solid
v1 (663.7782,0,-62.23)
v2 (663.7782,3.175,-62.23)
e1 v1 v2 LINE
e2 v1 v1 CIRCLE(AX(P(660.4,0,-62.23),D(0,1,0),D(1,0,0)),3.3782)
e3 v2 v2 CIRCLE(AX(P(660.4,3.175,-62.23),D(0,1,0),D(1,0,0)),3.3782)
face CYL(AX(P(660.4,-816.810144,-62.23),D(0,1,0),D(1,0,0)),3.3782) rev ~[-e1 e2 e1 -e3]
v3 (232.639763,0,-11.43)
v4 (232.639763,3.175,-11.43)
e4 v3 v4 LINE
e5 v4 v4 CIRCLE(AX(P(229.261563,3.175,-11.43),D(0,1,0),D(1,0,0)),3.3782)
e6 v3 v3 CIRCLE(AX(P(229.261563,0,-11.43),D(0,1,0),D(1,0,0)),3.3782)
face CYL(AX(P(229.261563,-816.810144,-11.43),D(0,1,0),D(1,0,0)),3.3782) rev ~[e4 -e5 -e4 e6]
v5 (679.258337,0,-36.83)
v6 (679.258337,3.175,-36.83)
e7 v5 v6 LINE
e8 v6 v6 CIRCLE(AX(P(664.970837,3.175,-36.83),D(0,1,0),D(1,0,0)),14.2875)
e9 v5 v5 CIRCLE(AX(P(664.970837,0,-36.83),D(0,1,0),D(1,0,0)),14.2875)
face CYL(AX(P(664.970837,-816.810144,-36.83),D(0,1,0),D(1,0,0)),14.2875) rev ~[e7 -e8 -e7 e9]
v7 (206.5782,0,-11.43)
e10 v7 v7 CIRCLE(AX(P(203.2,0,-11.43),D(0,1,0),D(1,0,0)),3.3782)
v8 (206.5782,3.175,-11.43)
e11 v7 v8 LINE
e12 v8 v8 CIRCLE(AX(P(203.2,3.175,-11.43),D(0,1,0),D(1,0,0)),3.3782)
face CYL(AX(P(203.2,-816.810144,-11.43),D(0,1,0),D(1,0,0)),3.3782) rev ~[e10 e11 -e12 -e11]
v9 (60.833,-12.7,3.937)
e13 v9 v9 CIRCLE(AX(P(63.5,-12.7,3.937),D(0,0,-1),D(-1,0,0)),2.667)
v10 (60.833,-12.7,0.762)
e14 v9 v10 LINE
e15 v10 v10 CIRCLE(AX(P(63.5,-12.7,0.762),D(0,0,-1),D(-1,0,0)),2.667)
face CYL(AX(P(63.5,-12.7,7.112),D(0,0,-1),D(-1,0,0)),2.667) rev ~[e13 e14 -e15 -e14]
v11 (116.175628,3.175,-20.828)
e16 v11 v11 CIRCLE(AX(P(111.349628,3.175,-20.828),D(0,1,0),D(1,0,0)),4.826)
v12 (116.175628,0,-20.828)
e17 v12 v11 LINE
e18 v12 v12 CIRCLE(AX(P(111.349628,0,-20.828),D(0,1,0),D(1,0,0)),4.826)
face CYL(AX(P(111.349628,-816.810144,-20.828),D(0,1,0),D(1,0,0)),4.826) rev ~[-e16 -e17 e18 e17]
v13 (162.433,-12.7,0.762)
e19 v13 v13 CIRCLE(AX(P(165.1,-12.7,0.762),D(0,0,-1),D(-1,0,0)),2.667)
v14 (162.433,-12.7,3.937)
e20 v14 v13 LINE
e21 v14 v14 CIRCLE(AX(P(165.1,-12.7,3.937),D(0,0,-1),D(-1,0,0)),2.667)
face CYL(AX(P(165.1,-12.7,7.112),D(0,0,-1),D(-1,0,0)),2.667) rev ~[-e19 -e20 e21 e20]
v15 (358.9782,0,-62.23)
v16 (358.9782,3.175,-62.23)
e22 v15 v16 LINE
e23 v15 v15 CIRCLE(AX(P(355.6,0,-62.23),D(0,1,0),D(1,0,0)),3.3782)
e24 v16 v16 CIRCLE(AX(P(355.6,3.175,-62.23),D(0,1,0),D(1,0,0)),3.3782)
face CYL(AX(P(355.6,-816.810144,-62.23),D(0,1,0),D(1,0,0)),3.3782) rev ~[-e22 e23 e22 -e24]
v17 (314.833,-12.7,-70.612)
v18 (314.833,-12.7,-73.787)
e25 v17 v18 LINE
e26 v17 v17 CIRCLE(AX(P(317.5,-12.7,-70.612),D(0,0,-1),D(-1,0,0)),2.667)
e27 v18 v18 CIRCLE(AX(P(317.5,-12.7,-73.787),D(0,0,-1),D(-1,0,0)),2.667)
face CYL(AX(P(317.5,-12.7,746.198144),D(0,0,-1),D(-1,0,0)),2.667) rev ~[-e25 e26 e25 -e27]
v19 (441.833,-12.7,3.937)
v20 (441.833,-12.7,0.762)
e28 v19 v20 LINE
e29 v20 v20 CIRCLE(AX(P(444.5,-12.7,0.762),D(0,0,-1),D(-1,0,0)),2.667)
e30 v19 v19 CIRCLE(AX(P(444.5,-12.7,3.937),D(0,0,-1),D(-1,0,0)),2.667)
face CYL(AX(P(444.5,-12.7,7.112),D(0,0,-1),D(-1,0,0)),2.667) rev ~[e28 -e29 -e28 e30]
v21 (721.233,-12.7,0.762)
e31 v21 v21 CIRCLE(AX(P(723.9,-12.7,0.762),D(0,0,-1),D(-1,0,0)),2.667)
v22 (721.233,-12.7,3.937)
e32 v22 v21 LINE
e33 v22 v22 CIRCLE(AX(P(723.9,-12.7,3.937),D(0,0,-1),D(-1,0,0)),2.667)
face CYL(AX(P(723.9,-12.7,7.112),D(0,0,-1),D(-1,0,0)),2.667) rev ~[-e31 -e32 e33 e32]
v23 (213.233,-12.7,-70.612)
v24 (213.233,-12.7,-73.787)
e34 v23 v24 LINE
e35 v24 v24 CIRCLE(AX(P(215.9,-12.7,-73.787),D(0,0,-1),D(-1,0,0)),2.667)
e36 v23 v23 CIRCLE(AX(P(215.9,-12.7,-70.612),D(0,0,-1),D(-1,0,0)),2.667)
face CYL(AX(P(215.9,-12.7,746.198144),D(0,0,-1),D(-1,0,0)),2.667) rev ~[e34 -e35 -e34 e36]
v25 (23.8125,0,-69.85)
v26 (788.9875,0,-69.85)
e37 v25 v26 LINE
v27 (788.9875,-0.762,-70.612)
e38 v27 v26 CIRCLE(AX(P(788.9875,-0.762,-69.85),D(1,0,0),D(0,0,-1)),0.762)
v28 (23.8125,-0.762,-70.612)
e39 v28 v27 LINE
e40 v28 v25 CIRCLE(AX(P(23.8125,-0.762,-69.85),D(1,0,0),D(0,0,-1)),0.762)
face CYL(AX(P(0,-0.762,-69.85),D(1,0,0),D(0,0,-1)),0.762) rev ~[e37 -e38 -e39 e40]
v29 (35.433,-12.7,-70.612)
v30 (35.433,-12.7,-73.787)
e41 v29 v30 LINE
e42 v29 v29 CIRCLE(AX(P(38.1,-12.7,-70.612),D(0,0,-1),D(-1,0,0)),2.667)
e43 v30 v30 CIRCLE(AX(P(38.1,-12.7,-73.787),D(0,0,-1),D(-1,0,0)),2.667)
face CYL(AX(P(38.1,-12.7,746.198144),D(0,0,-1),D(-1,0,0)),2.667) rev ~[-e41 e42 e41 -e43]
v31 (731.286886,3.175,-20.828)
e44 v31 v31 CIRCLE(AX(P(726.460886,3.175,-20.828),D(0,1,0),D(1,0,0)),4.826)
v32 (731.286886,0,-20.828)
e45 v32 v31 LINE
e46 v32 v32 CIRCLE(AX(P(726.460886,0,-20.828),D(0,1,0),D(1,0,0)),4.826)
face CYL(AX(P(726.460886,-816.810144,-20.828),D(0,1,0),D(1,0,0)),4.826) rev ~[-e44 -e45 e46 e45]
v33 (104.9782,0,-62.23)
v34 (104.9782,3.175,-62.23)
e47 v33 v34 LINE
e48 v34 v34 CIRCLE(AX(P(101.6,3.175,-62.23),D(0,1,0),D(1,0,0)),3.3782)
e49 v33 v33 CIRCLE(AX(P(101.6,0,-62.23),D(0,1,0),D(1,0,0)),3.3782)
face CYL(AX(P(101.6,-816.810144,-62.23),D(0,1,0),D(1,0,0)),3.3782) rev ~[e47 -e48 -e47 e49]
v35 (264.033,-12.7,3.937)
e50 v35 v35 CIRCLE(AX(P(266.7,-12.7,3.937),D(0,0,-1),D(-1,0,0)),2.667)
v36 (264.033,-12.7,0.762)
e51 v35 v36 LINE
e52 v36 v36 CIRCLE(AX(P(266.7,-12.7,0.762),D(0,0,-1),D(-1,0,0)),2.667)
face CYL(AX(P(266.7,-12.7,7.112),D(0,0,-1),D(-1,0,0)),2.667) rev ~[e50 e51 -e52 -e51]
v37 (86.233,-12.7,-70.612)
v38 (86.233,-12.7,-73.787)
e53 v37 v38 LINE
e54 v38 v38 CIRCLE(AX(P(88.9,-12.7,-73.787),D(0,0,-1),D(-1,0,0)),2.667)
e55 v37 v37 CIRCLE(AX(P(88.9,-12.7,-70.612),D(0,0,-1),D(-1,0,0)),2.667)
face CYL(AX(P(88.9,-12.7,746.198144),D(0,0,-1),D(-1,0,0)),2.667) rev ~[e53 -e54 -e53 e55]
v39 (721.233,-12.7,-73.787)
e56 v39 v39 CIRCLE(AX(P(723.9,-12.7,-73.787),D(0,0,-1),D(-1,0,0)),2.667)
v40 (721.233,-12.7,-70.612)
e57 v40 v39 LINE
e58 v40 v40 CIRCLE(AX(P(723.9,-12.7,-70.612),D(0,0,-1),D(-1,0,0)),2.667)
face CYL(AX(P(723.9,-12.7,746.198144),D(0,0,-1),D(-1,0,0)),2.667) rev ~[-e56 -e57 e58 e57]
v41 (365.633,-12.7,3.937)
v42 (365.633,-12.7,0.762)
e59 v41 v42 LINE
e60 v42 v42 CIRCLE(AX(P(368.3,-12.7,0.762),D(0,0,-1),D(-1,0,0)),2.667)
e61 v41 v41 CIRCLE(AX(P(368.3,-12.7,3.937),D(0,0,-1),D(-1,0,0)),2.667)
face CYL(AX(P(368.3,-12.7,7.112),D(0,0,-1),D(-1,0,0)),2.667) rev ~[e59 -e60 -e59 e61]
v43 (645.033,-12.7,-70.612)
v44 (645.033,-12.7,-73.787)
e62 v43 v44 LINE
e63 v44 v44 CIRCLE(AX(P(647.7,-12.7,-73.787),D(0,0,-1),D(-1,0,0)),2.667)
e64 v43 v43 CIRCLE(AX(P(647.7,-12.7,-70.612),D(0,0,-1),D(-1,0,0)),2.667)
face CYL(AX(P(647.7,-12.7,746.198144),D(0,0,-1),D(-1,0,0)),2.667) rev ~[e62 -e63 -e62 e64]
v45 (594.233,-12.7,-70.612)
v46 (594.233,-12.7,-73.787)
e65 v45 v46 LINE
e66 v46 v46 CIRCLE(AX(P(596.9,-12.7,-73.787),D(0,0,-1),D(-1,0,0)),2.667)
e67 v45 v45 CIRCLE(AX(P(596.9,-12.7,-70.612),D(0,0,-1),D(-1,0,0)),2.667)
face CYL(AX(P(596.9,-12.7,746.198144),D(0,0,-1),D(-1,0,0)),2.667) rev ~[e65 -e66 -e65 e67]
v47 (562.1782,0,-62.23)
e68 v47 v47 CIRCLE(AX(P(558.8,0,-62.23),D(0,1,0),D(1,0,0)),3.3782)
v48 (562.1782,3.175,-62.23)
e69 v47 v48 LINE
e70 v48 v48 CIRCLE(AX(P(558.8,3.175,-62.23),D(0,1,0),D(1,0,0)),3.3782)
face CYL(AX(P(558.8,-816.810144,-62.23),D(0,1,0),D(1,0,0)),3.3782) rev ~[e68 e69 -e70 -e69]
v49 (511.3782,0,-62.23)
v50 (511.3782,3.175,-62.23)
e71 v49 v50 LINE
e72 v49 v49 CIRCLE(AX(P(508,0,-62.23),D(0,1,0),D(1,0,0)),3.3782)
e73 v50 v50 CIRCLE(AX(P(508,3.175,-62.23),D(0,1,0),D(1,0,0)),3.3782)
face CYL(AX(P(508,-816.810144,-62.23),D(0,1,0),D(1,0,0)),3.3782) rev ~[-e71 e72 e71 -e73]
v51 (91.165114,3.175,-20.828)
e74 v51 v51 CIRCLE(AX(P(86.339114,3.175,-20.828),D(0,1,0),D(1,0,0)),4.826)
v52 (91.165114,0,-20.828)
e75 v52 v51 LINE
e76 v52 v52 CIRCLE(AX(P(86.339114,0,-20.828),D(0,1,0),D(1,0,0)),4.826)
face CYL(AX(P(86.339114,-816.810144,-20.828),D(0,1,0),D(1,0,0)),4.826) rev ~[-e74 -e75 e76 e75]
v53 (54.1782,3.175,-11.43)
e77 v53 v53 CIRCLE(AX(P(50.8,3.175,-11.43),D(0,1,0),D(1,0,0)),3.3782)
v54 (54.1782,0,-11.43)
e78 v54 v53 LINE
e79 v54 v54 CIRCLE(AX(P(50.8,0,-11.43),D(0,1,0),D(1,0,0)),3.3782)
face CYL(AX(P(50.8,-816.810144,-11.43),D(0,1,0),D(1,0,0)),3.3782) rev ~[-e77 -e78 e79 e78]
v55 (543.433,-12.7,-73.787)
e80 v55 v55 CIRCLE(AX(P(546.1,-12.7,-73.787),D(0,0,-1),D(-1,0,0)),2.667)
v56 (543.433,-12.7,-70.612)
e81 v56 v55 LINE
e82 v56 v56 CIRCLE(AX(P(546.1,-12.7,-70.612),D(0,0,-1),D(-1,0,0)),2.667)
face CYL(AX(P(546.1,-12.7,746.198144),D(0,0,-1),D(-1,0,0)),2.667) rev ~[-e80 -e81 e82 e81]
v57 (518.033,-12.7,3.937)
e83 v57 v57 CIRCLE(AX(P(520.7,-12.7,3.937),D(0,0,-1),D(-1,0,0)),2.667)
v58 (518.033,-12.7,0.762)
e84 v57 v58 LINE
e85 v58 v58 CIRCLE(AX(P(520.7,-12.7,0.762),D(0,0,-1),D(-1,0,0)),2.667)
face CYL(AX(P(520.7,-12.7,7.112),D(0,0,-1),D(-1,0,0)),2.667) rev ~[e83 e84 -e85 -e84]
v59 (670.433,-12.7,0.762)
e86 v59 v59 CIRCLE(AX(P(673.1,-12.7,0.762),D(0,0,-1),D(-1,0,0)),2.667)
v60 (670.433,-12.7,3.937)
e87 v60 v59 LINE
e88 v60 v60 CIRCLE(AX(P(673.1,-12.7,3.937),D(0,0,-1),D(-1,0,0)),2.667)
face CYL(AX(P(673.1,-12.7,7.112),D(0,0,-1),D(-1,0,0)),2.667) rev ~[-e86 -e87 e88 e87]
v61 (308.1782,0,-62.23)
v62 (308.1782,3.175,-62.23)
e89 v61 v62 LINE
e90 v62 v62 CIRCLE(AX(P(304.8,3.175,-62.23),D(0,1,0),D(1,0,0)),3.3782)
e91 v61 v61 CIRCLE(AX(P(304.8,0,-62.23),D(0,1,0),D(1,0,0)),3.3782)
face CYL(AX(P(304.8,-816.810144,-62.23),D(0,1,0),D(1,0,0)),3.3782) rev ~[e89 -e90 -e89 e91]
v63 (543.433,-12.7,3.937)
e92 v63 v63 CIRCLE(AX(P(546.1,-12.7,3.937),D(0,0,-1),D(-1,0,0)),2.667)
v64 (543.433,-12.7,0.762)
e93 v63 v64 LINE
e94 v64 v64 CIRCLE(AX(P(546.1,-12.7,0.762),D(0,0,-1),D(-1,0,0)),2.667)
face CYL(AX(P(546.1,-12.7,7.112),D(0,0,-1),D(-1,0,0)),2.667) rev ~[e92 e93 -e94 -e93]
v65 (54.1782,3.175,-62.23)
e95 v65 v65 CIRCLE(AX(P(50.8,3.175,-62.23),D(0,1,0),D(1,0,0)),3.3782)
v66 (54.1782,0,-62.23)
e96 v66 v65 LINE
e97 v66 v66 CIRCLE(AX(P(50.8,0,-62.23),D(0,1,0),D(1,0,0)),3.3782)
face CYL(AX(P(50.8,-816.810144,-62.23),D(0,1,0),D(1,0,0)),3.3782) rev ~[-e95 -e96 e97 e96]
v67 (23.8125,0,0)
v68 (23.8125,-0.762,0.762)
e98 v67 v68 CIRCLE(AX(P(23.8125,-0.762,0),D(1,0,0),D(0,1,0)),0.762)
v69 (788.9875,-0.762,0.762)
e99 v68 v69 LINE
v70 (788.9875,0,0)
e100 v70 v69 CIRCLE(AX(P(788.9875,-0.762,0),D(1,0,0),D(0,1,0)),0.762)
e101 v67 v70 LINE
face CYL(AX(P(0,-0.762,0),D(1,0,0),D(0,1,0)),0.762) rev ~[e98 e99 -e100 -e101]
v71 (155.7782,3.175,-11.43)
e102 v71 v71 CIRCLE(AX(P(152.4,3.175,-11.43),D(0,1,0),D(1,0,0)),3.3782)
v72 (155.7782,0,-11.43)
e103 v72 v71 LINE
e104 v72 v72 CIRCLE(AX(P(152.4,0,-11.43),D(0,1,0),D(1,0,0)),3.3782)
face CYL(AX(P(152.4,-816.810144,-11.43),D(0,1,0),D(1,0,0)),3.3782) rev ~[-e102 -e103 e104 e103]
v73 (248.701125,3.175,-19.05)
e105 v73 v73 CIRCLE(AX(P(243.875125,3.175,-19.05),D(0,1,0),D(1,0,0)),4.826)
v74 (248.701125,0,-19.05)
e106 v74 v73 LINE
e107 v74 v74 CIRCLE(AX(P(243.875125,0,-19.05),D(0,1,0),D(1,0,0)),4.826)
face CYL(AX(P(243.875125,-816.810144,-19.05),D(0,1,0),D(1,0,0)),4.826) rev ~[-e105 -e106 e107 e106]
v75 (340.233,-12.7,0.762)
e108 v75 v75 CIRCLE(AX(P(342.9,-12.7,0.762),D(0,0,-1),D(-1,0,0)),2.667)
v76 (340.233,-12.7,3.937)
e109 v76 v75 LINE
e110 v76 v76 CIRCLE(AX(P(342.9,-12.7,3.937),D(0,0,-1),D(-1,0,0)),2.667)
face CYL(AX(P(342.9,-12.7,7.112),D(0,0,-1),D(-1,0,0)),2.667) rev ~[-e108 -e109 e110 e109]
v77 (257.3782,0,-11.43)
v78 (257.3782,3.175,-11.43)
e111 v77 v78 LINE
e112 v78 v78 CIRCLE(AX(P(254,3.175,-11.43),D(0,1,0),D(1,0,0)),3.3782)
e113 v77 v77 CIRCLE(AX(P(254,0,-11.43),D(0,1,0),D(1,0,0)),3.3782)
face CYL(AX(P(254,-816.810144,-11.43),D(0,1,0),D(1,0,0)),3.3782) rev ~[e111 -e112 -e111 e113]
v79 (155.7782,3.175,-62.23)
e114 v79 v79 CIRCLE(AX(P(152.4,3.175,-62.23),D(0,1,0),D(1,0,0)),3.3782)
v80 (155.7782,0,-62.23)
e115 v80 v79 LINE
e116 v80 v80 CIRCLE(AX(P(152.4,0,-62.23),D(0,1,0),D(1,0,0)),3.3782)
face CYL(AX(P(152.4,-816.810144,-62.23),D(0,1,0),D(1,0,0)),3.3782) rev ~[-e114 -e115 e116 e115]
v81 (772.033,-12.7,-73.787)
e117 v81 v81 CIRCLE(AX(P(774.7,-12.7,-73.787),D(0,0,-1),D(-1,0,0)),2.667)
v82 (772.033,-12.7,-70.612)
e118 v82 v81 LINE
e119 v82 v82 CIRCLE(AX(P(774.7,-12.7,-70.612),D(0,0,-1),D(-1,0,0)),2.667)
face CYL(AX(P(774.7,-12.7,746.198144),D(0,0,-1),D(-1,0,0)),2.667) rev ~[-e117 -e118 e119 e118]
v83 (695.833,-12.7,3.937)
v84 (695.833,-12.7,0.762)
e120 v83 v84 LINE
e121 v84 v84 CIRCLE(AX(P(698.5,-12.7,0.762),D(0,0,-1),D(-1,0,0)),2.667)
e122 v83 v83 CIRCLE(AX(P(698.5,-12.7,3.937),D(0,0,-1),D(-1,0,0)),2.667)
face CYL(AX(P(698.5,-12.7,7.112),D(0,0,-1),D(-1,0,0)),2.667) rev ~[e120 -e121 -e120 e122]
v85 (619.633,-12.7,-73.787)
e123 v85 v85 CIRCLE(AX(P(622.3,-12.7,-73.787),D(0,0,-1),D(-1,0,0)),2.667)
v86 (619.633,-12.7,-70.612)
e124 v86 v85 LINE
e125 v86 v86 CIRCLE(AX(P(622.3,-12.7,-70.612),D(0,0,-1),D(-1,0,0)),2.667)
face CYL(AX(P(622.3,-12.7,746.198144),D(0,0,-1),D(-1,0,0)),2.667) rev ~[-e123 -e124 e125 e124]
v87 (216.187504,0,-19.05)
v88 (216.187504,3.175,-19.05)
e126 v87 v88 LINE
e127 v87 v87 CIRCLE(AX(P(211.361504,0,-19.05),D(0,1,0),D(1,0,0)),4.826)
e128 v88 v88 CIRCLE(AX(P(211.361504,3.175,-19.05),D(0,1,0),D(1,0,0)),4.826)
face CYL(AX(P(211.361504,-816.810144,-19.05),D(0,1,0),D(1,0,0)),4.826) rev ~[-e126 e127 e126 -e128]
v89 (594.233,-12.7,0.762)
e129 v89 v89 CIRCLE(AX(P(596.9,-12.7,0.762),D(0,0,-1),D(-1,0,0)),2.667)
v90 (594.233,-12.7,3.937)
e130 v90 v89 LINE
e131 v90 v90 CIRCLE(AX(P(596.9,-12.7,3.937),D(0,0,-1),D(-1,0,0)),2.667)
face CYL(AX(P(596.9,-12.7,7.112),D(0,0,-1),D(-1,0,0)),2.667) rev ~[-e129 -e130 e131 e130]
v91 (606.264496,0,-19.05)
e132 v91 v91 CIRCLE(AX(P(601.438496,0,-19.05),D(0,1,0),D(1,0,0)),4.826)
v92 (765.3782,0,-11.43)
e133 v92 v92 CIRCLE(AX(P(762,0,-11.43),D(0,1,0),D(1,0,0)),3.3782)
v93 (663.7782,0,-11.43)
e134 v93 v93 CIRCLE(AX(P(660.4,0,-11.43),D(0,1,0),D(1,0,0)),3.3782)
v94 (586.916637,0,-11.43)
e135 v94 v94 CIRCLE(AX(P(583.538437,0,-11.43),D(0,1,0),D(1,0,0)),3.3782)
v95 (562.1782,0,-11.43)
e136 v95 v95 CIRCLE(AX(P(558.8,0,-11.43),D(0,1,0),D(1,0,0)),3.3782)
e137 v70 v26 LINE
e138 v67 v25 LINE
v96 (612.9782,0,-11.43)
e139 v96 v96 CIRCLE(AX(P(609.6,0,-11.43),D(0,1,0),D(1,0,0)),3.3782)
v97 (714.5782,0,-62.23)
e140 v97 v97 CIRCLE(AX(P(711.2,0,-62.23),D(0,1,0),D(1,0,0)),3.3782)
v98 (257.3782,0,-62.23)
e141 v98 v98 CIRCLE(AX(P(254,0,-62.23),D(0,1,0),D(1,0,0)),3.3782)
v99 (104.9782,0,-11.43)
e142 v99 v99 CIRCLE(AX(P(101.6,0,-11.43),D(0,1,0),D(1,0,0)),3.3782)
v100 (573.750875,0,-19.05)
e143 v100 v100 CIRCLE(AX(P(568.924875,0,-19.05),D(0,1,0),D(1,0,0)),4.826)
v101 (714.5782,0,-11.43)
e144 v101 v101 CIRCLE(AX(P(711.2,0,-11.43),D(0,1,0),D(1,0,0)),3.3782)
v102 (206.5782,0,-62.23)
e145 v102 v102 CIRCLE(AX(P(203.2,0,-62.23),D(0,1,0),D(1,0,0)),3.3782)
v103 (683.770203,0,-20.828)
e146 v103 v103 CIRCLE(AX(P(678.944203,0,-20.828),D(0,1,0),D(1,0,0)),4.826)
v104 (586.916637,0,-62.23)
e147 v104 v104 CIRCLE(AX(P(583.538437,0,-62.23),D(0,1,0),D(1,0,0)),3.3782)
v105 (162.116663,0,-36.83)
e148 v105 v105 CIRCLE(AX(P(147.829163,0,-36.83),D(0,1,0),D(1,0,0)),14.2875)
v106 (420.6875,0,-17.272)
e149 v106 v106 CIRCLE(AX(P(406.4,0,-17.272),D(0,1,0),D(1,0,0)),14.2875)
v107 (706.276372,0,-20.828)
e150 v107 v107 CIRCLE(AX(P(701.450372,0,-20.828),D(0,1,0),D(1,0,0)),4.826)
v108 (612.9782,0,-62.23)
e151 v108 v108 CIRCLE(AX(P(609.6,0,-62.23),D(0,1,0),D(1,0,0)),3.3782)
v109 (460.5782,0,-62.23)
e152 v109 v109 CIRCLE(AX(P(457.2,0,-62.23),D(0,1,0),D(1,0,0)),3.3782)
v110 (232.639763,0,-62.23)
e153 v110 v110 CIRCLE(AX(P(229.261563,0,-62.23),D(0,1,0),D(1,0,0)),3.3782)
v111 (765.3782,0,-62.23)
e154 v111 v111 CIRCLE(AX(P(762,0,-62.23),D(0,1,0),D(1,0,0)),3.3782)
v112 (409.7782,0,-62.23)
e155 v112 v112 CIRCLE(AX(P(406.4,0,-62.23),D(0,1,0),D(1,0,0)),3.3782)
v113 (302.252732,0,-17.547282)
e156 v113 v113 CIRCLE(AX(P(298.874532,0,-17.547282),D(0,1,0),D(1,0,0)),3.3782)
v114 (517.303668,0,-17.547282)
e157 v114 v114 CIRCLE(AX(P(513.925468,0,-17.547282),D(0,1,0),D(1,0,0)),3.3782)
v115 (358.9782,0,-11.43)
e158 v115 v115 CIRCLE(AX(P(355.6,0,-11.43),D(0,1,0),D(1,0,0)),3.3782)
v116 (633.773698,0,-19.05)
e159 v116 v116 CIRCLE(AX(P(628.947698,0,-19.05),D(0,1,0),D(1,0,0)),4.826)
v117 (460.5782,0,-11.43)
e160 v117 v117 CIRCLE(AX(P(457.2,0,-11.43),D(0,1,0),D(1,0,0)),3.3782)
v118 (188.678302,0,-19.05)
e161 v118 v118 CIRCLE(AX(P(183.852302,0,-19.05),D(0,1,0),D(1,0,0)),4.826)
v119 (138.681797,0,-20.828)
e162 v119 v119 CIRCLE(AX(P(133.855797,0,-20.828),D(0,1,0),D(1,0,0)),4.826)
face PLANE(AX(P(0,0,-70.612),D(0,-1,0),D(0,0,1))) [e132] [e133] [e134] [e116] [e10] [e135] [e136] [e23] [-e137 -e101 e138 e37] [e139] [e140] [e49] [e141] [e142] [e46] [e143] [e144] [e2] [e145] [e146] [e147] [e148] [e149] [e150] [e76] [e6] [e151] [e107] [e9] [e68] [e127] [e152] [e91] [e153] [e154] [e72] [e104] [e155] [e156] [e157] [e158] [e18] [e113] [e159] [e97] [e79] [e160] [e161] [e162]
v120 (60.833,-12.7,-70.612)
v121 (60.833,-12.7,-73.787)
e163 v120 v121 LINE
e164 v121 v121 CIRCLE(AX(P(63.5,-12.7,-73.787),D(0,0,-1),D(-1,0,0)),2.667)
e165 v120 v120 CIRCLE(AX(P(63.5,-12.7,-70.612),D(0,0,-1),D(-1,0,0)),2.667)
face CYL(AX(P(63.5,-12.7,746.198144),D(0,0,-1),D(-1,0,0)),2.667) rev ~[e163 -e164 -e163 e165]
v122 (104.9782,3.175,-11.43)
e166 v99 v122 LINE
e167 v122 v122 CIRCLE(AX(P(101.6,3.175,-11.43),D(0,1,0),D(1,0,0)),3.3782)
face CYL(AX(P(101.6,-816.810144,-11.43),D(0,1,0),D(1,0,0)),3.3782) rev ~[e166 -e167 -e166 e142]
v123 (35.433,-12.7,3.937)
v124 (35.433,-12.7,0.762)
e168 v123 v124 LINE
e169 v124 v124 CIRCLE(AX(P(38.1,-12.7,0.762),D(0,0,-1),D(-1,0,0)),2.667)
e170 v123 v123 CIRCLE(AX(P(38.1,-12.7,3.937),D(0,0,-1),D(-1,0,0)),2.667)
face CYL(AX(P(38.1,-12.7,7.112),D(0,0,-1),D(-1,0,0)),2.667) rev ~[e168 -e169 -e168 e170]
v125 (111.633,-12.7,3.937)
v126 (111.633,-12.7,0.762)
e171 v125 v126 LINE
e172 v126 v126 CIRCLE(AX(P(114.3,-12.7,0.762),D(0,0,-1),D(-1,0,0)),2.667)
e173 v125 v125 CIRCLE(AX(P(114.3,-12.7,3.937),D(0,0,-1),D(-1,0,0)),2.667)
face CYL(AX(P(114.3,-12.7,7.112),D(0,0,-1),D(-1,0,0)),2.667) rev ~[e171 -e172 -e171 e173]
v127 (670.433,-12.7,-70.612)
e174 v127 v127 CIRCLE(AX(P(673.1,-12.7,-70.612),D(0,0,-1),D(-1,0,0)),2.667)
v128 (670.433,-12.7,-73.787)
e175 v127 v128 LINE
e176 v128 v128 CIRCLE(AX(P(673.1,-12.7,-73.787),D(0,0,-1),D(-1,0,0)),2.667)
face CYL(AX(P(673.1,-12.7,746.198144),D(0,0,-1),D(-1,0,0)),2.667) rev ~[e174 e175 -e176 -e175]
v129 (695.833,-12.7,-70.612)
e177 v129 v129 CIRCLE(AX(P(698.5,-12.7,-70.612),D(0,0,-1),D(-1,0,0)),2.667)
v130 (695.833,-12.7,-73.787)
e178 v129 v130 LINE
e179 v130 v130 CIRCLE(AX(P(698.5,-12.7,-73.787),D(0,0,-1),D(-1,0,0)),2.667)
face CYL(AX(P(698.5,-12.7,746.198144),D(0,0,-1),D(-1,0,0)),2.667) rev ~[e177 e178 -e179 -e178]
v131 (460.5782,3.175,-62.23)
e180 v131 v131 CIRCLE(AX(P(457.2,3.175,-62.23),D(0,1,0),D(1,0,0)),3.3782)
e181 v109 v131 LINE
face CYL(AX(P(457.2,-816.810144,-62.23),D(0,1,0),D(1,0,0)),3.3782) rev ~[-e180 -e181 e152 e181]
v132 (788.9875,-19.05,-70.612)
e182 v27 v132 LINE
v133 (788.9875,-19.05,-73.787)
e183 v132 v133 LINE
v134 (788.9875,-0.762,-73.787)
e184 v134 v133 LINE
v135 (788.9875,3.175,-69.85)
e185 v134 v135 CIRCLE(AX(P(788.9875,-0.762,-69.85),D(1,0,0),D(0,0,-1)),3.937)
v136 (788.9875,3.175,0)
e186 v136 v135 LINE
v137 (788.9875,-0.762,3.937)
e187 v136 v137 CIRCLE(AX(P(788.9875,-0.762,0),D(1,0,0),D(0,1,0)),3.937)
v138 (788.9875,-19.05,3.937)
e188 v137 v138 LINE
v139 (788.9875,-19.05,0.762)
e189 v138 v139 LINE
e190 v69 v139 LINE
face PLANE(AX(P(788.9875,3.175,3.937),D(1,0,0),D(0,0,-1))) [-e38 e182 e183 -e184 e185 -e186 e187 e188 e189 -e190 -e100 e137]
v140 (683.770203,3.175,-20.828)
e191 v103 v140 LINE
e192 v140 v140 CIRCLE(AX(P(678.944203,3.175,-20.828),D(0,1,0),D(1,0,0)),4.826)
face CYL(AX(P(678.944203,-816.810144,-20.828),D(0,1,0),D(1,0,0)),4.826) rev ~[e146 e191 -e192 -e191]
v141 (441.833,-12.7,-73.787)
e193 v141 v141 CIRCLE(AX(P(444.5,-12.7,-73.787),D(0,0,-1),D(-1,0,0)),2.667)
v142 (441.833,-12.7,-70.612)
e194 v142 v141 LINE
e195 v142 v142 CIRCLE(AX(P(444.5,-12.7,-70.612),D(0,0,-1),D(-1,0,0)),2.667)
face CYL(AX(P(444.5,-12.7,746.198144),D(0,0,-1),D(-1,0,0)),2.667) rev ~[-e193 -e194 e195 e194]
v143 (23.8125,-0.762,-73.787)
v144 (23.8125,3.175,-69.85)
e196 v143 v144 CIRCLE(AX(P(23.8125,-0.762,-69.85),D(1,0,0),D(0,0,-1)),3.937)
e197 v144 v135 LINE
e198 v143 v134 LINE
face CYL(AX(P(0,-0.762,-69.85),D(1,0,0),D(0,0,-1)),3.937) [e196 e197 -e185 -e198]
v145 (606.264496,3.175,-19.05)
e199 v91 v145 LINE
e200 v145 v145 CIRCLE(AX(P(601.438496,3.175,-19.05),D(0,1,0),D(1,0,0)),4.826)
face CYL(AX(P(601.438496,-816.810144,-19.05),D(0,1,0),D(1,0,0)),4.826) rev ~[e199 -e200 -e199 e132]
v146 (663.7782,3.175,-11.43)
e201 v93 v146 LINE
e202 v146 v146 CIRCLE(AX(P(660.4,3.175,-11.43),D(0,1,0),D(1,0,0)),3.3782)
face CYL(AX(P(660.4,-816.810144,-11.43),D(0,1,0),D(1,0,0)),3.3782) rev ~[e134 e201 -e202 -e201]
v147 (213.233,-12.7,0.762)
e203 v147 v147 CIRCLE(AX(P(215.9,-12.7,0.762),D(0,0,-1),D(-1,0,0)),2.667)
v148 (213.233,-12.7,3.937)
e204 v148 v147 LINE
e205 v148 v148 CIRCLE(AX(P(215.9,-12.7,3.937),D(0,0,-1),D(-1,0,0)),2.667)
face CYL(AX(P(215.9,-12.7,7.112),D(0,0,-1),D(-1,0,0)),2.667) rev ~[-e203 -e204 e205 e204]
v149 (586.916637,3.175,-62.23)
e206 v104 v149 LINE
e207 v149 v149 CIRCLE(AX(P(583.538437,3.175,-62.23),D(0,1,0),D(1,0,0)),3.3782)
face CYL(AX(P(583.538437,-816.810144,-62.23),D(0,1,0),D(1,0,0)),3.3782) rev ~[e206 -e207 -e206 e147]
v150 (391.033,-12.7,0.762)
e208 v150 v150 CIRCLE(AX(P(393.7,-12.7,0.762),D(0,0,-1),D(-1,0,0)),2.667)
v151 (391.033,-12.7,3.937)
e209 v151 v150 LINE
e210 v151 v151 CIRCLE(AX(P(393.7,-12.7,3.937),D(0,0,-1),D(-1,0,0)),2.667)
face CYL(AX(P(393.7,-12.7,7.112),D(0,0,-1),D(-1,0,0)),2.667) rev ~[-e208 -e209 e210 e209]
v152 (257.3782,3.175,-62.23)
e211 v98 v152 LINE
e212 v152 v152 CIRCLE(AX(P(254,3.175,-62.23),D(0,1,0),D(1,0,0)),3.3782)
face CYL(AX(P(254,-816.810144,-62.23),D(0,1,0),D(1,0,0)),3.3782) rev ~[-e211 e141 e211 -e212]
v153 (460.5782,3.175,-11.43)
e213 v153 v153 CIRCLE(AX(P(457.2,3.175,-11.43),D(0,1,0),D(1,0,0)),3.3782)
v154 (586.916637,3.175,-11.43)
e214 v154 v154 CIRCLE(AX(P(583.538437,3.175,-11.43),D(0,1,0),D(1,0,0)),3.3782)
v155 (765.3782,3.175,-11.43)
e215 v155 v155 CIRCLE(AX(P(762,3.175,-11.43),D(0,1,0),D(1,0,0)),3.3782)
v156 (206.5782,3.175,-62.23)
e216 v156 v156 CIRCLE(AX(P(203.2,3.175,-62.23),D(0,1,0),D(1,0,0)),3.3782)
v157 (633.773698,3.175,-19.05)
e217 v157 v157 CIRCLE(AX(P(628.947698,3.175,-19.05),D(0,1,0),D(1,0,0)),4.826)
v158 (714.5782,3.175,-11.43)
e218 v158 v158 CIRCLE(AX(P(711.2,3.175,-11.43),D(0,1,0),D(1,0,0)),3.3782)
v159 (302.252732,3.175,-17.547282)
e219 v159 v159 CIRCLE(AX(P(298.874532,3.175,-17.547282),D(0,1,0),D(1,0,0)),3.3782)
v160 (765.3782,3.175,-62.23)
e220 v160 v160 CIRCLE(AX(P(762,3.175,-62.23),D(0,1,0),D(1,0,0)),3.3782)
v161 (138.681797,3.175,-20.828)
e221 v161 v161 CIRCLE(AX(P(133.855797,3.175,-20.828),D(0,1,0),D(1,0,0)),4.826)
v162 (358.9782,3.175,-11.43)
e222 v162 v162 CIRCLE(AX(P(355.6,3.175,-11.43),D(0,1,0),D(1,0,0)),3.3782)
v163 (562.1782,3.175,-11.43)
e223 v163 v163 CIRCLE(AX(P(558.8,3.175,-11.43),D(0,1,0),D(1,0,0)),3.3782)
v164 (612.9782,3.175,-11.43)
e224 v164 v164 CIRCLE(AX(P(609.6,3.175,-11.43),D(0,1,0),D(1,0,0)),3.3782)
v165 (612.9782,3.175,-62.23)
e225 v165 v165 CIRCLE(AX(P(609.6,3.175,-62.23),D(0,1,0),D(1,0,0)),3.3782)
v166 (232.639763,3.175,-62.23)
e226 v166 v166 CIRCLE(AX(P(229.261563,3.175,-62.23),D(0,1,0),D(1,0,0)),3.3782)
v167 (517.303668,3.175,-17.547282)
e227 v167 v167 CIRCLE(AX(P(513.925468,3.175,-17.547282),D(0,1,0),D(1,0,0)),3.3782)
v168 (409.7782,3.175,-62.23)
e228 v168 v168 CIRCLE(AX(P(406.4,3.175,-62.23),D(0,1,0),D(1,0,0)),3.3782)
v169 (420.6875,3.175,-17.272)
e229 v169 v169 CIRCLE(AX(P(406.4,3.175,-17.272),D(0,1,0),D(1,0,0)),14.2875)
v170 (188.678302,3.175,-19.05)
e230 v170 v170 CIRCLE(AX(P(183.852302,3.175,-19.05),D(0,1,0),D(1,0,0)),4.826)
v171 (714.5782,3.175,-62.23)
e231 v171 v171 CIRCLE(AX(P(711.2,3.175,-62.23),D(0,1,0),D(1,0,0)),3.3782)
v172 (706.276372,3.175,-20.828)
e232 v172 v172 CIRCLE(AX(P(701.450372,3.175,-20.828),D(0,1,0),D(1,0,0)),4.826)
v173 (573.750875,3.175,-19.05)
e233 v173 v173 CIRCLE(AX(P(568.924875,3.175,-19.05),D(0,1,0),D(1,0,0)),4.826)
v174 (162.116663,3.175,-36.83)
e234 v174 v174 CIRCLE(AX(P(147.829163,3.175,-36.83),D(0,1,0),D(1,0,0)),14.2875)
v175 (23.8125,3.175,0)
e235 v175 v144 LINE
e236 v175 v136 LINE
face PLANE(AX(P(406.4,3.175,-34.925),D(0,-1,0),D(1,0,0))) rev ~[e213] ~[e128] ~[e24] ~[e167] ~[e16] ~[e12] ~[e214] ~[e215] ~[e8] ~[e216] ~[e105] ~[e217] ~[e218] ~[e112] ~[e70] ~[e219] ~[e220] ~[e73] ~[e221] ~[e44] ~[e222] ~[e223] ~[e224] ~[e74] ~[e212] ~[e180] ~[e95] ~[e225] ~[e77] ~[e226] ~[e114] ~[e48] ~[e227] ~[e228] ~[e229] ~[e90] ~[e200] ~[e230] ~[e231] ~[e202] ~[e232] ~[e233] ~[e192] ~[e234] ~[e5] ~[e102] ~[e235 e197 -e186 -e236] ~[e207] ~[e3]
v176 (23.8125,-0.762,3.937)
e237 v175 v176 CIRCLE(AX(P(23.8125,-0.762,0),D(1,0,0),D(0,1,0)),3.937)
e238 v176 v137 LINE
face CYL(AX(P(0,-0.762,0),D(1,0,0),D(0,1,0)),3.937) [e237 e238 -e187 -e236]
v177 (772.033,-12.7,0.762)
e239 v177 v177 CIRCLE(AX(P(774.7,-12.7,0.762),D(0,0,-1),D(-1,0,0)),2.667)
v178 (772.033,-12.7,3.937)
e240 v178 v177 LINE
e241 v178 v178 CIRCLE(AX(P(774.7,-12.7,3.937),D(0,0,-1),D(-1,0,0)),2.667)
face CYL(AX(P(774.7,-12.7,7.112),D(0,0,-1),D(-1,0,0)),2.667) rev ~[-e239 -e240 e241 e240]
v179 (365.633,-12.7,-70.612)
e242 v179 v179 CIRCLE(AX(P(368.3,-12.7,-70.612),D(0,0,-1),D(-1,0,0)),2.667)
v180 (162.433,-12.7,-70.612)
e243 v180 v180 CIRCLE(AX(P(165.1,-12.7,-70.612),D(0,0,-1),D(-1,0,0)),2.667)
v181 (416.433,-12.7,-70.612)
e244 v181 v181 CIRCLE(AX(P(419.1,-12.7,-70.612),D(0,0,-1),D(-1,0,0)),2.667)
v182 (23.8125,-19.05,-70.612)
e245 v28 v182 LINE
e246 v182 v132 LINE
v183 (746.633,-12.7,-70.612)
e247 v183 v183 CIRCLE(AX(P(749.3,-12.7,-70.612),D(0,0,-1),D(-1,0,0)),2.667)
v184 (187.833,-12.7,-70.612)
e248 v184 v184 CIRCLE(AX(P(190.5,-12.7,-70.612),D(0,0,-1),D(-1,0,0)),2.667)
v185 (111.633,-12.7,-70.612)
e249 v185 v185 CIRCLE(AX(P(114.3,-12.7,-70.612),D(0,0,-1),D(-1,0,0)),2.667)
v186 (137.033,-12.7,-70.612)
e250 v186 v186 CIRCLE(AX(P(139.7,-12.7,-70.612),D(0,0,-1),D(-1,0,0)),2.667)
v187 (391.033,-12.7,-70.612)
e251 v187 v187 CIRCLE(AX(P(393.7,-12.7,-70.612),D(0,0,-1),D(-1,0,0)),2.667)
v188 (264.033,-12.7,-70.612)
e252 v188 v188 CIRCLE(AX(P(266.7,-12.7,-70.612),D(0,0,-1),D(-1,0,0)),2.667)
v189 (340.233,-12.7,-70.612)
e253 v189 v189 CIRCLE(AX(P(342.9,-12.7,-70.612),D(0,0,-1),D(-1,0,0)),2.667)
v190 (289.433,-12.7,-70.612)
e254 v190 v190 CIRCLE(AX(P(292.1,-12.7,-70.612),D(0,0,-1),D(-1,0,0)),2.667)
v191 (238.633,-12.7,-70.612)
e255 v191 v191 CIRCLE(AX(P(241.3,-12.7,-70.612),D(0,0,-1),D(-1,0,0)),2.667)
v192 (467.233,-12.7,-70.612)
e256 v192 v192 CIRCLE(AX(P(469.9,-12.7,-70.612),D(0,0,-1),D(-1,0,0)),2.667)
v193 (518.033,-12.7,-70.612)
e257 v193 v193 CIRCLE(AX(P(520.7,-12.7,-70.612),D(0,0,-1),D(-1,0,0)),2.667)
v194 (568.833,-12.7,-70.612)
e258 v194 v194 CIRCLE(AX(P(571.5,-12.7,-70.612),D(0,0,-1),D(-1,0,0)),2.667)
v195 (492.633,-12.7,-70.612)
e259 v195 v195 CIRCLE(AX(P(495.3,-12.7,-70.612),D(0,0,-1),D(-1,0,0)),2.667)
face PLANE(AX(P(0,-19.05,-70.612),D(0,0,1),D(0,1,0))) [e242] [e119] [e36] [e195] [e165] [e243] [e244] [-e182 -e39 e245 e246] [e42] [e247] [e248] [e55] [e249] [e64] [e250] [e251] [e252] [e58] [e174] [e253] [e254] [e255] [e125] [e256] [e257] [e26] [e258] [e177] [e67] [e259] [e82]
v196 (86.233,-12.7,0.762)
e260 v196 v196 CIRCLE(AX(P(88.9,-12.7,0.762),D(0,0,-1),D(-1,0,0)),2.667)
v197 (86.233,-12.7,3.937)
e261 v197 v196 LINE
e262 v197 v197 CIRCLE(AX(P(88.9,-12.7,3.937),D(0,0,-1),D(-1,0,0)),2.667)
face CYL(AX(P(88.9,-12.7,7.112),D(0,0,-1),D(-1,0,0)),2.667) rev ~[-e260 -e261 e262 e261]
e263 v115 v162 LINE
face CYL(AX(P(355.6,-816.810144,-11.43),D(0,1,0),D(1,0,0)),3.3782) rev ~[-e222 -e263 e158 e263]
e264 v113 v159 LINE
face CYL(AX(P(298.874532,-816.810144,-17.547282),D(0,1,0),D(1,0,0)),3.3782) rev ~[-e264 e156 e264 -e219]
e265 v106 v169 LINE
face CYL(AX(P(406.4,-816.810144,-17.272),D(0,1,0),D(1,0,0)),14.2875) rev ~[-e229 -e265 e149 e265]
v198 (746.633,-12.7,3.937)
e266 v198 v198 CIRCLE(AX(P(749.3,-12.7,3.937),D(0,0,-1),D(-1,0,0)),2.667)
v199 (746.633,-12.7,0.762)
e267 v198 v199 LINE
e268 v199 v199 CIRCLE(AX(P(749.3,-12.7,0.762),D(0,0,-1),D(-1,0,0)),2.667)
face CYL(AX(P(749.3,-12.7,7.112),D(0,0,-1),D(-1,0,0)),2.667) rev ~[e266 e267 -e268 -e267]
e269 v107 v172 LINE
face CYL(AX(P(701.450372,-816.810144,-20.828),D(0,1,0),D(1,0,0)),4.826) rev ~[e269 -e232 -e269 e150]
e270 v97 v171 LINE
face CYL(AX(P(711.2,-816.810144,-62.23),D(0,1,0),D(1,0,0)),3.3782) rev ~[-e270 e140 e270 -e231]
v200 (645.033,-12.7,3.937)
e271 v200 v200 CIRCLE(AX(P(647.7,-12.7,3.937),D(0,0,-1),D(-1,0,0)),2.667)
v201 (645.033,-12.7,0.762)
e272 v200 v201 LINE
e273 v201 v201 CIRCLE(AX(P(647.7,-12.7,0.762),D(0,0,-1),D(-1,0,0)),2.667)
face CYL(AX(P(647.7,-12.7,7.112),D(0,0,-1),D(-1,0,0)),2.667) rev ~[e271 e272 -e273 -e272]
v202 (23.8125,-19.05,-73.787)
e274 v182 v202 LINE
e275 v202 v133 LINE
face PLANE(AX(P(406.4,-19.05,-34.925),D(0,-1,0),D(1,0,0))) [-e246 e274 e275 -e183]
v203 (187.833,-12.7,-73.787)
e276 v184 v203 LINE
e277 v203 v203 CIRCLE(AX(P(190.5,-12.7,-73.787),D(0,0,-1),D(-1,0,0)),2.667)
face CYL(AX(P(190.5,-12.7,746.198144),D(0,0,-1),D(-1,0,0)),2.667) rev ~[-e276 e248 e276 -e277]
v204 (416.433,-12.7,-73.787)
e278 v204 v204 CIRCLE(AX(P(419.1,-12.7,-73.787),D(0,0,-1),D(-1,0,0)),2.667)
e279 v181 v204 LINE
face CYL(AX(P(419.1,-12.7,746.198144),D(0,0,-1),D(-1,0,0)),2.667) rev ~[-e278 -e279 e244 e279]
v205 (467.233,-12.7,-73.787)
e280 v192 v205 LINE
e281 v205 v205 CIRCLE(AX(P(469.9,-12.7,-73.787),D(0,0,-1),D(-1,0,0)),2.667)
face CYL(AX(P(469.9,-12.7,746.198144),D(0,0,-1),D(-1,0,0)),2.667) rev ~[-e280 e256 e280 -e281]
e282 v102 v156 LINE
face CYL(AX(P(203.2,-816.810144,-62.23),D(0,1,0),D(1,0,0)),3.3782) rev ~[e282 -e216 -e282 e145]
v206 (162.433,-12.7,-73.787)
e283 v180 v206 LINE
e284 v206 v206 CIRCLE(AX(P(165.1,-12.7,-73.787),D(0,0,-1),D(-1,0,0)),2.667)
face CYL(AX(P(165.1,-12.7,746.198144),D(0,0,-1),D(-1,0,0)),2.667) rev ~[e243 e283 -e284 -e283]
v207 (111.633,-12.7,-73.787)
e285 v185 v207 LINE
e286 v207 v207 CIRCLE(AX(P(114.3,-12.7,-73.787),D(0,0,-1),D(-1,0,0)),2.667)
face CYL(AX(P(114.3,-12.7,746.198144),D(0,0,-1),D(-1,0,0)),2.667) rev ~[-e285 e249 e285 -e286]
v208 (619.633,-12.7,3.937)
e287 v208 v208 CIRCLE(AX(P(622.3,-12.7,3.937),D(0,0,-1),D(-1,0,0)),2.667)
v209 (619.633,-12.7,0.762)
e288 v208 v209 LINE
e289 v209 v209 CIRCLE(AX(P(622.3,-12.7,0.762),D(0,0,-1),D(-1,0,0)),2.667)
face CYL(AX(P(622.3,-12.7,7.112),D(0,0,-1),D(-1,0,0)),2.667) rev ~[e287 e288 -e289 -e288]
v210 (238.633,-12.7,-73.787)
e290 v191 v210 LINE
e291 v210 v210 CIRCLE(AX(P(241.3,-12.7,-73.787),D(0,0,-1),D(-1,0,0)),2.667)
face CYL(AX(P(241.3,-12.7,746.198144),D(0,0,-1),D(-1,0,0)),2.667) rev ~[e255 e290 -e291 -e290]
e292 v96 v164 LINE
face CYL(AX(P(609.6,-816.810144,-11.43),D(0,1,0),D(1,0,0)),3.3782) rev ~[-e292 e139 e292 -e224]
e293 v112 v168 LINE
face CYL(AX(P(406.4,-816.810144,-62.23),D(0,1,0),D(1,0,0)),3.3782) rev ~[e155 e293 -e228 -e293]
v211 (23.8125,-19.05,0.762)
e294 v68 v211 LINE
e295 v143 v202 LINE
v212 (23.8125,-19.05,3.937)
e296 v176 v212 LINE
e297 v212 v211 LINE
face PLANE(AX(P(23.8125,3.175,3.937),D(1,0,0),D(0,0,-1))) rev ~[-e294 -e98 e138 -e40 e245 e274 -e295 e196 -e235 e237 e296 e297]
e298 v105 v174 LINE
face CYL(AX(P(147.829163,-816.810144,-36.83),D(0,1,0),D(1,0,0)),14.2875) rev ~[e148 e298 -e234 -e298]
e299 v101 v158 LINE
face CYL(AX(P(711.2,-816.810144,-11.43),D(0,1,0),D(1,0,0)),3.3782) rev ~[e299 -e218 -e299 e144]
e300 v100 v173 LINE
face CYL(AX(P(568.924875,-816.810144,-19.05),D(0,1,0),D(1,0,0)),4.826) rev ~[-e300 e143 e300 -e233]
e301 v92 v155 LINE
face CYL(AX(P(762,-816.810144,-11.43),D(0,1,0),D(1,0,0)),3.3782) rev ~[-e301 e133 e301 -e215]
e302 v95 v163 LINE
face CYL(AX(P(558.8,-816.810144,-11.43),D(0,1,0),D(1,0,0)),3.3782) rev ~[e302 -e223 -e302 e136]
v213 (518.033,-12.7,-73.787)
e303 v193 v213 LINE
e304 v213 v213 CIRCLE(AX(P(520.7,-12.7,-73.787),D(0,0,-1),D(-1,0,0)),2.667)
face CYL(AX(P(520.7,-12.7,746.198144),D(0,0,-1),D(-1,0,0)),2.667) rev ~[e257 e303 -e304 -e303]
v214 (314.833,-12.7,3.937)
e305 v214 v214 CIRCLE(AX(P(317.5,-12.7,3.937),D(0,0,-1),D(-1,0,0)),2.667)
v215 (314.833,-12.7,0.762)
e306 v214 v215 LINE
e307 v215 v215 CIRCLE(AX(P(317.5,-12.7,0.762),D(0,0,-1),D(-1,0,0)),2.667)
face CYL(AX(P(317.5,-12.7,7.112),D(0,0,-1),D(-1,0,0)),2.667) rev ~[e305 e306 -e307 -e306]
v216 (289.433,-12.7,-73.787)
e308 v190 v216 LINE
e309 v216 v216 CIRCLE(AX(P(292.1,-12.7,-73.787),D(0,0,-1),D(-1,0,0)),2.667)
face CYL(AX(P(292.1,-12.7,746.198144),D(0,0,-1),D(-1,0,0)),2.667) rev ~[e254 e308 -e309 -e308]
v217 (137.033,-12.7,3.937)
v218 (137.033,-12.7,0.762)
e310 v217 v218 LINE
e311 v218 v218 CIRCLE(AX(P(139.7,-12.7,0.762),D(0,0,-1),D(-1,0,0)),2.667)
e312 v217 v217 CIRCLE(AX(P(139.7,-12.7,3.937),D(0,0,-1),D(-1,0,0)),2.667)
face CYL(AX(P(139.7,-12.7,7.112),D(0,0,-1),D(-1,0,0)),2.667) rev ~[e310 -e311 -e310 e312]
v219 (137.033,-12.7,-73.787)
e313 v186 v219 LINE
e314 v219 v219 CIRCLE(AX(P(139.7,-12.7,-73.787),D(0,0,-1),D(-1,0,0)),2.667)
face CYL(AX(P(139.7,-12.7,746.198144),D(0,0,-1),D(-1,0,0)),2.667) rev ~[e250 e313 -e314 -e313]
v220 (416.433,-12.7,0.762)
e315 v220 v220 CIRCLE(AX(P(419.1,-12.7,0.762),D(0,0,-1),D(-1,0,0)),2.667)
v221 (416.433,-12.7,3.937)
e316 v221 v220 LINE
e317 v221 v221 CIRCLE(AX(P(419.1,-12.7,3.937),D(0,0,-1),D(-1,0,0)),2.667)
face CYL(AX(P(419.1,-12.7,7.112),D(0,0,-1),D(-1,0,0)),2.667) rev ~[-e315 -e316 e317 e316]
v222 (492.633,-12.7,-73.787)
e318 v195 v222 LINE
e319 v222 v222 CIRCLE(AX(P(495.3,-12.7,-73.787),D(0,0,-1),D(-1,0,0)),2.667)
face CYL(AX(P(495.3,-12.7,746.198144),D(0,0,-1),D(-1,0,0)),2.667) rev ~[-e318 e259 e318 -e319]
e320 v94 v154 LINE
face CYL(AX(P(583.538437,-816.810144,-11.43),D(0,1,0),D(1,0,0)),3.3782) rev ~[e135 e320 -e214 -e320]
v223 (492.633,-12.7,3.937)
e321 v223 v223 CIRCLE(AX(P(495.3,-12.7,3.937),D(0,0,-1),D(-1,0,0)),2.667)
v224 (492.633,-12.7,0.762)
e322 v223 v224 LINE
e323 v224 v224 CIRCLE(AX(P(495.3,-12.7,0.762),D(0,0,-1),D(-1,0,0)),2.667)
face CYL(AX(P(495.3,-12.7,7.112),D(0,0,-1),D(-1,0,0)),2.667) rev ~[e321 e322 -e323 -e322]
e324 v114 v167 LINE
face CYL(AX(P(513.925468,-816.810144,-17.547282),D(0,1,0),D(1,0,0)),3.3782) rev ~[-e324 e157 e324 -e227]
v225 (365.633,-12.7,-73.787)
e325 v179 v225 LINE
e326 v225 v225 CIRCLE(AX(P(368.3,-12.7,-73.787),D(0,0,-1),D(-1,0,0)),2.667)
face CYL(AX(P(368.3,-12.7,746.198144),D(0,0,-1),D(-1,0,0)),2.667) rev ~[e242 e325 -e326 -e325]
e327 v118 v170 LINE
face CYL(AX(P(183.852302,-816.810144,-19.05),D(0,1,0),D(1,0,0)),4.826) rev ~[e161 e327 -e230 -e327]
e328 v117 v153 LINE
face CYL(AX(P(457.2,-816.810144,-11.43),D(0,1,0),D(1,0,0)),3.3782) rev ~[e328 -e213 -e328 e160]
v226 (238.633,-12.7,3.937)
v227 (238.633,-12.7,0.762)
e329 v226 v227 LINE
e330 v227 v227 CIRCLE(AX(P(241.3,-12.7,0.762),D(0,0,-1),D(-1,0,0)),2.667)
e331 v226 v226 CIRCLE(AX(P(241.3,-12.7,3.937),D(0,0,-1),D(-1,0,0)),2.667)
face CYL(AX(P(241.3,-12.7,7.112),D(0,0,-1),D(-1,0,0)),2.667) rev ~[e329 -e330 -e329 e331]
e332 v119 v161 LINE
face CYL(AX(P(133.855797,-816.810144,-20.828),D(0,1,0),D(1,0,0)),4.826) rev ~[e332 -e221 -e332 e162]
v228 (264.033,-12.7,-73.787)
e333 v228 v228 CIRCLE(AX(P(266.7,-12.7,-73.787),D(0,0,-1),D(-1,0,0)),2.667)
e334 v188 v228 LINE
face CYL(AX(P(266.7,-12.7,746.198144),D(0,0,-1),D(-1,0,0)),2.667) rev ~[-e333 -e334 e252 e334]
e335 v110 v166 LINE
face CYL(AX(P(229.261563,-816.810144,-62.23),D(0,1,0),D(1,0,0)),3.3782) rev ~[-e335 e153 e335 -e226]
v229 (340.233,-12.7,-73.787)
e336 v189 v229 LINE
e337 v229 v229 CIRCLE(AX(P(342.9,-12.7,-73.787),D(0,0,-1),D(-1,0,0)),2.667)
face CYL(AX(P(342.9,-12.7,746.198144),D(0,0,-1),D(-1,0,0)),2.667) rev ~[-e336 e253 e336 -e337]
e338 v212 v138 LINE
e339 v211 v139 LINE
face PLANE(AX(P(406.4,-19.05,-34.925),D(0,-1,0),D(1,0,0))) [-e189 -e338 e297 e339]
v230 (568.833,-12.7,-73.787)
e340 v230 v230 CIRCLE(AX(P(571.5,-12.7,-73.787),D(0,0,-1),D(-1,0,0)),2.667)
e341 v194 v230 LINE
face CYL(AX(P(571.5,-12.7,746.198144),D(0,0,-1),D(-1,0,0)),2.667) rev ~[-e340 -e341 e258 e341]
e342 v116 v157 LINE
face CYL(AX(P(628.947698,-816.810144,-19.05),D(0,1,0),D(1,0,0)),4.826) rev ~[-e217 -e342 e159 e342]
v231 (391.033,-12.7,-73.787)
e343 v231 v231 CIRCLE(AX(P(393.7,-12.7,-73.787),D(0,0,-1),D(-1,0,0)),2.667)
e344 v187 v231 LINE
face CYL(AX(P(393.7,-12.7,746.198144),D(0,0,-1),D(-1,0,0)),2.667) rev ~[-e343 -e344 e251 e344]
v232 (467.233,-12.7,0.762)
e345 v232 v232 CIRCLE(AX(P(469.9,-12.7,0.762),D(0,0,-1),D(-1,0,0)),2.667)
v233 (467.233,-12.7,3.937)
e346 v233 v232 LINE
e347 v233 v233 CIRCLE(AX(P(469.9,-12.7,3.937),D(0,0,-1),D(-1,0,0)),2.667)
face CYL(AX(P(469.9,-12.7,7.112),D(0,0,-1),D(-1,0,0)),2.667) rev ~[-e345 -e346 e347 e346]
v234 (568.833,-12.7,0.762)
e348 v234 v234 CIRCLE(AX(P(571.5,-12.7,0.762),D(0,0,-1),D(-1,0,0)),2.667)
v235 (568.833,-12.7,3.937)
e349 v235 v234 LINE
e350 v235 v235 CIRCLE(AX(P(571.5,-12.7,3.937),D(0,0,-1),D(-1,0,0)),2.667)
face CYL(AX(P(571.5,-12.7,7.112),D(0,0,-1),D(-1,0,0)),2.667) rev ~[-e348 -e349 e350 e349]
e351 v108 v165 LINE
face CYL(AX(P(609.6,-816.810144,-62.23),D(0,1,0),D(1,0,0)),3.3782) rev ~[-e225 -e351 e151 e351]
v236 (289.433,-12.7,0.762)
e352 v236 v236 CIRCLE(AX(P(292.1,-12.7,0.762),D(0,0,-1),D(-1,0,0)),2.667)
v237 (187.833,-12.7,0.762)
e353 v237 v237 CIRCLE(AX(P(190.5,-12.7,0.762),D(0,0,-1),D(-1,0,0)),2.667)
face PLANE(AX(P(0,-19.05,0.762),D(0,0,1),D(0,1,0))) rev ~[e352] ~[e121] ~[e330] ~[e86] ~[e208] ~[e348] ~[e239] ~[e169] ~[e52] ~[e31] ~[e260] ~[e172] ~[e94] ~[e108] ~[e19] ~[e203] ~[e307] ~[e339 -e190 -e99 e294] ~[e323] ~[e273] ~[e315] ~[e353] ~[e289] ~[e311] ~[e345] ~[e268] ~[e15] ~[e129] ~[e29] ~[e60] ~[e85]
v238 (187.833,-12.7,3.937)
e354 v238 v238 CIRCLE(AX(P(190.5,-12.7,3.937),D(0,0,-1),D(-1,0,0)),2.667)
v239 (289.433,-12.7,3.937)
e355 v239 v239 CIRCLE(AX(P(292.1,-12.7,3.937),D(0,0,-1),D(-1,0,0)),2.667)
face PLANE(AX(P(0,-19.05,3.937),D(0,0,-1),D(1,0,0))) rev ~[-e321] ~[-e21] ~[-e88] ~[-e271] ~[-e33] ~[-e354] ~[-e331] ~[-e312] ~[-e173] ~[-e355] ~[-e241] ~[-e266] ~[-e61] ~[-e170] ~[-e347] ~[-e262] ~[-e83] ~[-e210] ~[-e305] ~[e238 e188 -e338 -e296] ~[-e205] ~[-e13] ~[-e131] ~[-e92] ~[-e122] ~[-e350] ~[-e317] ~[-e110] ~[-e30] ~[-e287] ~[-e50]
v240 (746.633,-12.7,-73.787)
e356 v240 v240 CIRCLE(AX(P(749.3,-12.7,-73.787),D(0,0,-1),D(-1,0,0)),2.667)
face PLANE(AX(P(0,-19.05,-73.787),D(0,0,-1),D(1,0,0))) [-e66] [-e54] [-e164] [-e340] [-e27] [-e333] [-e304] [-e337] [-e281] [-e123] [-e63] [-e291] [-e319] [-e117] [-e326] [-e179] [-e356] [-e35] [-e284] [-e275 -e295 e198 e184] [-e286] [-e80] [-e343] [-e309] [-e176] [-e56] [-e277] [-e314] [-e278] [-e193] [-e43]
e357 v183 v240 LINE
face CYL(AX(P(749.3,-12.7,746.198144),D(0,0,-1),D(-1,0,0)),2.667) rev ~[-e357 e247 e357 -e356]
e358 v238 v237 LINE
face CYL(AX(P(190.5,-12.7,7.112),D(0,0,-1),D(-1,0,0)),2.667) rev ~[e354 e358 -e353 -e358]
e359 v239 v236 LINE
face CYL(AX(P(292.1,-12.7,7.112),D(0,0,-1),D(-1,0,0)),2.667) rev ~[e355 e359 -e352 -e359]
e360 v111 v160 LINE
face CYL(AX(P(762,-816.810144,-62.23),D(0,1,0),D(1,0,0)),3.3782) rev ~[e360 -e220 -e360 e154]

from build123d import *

# Parameters (mm, degrees)
SKETCH1_W                  = 812.8
SKETCH1_H                  = 77.724
BOSS_EXTRUDE1_DEPTH        = 22.225
SKETCH2_W                  = 71.374
SKETCH2_H                  = 19.05
CUT_EXTRUDE1_DEPTH         = 817.364663535
HOLE1_D                    = 9.652
HOLE2_D                    = 28.575
H_0_266_DIAMETER_HOLE1_D   = 6.7564
F_10_CLEARANCE_HOLE1_D     = 5.334
F_10_CLEARANCE_HOLE1_DEPTH = 3.175
F_10_CLEARANCE_HOLE2_D     = 5.334
F_10_CLEARANCE_HOLE2_DEPTH = 3.175
F_10_CLEARANCE_HOLE3_D     = 5.334
CHAMFER1_SIZE              = 3.175
FILLET1_R                  = 0.762
FILLET2_R                  = 3.937
CUT_EXTRUDE2_REACH         = 818.445
SKETCH15_W                 = 23.8125
SKETCH15_H                 = 77.724


with BuildPart() as part:
    # Sketch1 → Boss-Extrude1 (new body)
    with BuildSketch(Plane.XZ.offset(19.05)):
        with Locations((406.4, -34.925)):
            Rectangle(SKETCH1_W, SKETCH1_H)
    extrude(amount=-BOSS_EXTRUDE1_DEPTH)

    # Sketch2 → Cut-Extrude1 (cut, through all)
    with BuildSketch(Plane.ZY):
        with Locations((-34.925, -9.525)):
            Rectangle(SKETCH2_W, SKETCH2_H)
    extrude(amount=-CUT_EXTRUDE1_DEPTH, mode=Mode.SUBTRACT)

    # Hole1 (through all)
    with Locations(Plane(origin=(0, 0, 0), x_dir=(-1, 0, 0), z_dir=(0, -1, 0))):
        with Locations((-568.924874752, 19.05), (-601.438495912, 19.05), (-628.947697627, 19.05), (-243.875125248, 19.05), (-211.361504088, 19.05), (-183.852302373, 19.05), (-678.944202666, 20.828), (-701.450372003, 20.828), (-726.460886343, 20.828), (-133.855797334, 20.828), (-111.349627997, 20.828), (-86.339113657, 20.828)):
            Hole(HOLE1_D / 2)

    # Hole2 (through all)
    with Locations(Plane(origin=(0, 0, 0), x_dir=(-1, 0, 0), z_dir=(0, -1, 0))):
        with Locations((-664.970837168, 36.83), (-147.829162832, 36.83), (-406.4, 17.272)):
            Hole(HOLE2_D / 2)

    # H (0.266) Diameter Hole1 (through all)
    with Locations(Plane(origin=(0, 0, 0), x_dir=(-1, 0, 0), z_dir=(0, -1, 0))):
        with Locations((-762, 11.43), (-762, 62.23), (-711.2, 11.43), (-711.2, 62.23), (-660.4, 11.43), (-660.4, 62.23), (-609.6, 11.43), (-609.6, 62.23), (-558.8, 11.43), (-558.8, 62.23), (-152.4, 11.43), (-203.2, 62.23), (-203.2, 11.43), (-254, 62.23), (-50.8, 11.43), (-101.6, 62.23), (-101.6, 11.43), (-152.4, 62.23), (-254, 11.43), (-304.8, 62.23), (-355.6, 62.23), (-355.6, 11.43), (-508, 62.23), (-457.2, 11.43), (-457.2, 62.23), (-406.4, 62.23), (-50.8, 62.23), (-583.538437168, 62.23), (-583.538437168, 11.43), (-229.261562832, 11.43), (-229.261562832, 62.23), (-513.925467617, 17.547282407), (-298.874532383, 17.547282407)):
            Hole(H_0_266_DIAMETER_HOLE1_D / 2)

    # #10 Clearance Hole1
    with Locations(Plane(origin=(0, 0, 0.762), x_dir=(-1, 0, 0), z_dir=(0, 0, -1))):
        with Locations((-12.7, -12.7), (-800.1, -12.7)):
            Hole(F_10_CLEARANCE_HOLE1_D / 2, depth=F_10_CLEARANCE_HOLE1_DEPTH)

    # #10 Clearance Hole2
    with Locations(Plane.XY.offset(3.937)):
        with Locations((63.5, -12.7), (38.1, -12.7), (88.9, -12.7), (114.3, -12.7), (139.7, -12.7), (165.1, -12.7), (190.5, -12.7), (215.9, -12.7), (241.3, -12.7), (266.7, -12.7), (292.1, -12.7), (317.5, -12.7), (342.9, -12.7), (368.3, -12.7), (393.7, -12.7), (419.1, -12.7), (444.5, -12.7), (469.9, -12.7), (495.3, -12.7), (520.7, -12.7), (546.1, -12.7), (571.5, -12.7), (596.9, -12.7), (622.3, -12.7), (647.7, -12.7), (673.1, -12.7), (698.5, -12.7), (723.9, -12.7), (749.3, -12.7), (774.7, -12.7)):
            Hole(F_10_CLEARANCE_HOLE2_D / 2, depth=F_10_CLEARANCE_HOLE2_DEPTH)

    # #10 Clearance Hole3 (through all)
    with Locations(Plane.XY.offset(-70.612)):
        with Locations((800.1, -12.7), (774.7, -12.7), (749.3, -12.7), (723.9, -12.7), (698.5, -12.7), (673.1, -12.7), (647.7, -12.7), (622.3, -12.7), (596.9, -12.7), (571.5, -12.7), (546.1, -12.7), (520.7, -12.7), (495.3, -12.7), (469.9, -12.7), (444.5, -12.7), (419.1, -12.7), (393.7, -12.7), (368.3, -12.7), (342.9, -12.7), (317.5, -12.7), (292.1, -12.7), (266.7, -12.7), (241.3, -12.7), (215.9, -12.7), (190.5, -12.7), (165.1, -12.7), (139.7, -12.7), (114.3, -12.7), (88.9, -12.7), (63.5, -12.7), (38.1, -12.7), (12.7, -12.7)):
            Hole(F_10_CLEARANCE_HOLE3_D / 2)

    # Chamfer1
    chamfer1_edges = [part.edges().sort_by_distance(p)[0] for p in [
        (812.8, -19.05, 2.3495),
        (0, -19.05, -72.1995),
        (0, -19.05, 2.3495),
        (812.8, -19.05, -72.1995),
    ]]
    chamfer(chamfer1_edges, length=CHAMFER1_SIZE)

    # Fillet1
    fillet1_edges = [part.edges().sort_by_distance(p)[0] for p in [
        (406.4, 0, -70.612),
        (406.4, 0, 0.762),
    ]]
    fillet(fillet1_edges, radius=FILLET1_R)

    # Fillet2
    fillet2_edges = [part.edges().sort_by_distance(p)[0] for p in [
        (406.4, 3.175, -73.787),
        (406.4, 3.175, 3.937),
    ]]
    fillet(fillet2_edges, radius=FILLET2_R)

    # Sketch15 → Cut-Extrude2 (cut, up to next)
    with BuildSketch(Plane(origin=(0, 3.175, 0), x_dir=(1, 0, 0), z_dir=(0, 1, 0)), mode=Mode.PRIVATE) as cut_extrude2_sk1:
        with Locations((11.90625, 34.925)):
            Rectangle(SKETCH15_W, SKETCH15_H)
    cut_extrude2_tool1 = extrude(cut_extrude2_sk1.sketch, amount=-CUT_EXTRUDE2_REACH, mode=Mode.PRIVATE) & part.part
    # Sketch15 → Cut-Extrude2 (cut, up to next)
    with BuildSketch(Plane(origin=(0, 3.175, 0), x_dir=(1, 0, 0), z_dir=(0, 1, 0)), mode=Mode.PRIVATE) as cut_extrude2_sk2:
        with Locations((800.89375, 34.925)):
            Rectangle(SKETCH15_W, SKETCH15_H)
    cut_extrude2_tool2 = extrude(cut_extrude2_sk2.sketch, amount=-CUT_EXTRUDE2_REACH, mode=Mode.PRIVATE) & part.part
    add(cut_extrude2_tool1.solids().sort_by_distance((11.90625, 3.175, -34.925))[0], mode=Mode.SUBTRACT)
    add(cut_extrude2_tool2.solids().sort_by_distance((800.89375, 3.175, -34.925))[0], mode=Mode.SUBTRACT)


solid = part.part
